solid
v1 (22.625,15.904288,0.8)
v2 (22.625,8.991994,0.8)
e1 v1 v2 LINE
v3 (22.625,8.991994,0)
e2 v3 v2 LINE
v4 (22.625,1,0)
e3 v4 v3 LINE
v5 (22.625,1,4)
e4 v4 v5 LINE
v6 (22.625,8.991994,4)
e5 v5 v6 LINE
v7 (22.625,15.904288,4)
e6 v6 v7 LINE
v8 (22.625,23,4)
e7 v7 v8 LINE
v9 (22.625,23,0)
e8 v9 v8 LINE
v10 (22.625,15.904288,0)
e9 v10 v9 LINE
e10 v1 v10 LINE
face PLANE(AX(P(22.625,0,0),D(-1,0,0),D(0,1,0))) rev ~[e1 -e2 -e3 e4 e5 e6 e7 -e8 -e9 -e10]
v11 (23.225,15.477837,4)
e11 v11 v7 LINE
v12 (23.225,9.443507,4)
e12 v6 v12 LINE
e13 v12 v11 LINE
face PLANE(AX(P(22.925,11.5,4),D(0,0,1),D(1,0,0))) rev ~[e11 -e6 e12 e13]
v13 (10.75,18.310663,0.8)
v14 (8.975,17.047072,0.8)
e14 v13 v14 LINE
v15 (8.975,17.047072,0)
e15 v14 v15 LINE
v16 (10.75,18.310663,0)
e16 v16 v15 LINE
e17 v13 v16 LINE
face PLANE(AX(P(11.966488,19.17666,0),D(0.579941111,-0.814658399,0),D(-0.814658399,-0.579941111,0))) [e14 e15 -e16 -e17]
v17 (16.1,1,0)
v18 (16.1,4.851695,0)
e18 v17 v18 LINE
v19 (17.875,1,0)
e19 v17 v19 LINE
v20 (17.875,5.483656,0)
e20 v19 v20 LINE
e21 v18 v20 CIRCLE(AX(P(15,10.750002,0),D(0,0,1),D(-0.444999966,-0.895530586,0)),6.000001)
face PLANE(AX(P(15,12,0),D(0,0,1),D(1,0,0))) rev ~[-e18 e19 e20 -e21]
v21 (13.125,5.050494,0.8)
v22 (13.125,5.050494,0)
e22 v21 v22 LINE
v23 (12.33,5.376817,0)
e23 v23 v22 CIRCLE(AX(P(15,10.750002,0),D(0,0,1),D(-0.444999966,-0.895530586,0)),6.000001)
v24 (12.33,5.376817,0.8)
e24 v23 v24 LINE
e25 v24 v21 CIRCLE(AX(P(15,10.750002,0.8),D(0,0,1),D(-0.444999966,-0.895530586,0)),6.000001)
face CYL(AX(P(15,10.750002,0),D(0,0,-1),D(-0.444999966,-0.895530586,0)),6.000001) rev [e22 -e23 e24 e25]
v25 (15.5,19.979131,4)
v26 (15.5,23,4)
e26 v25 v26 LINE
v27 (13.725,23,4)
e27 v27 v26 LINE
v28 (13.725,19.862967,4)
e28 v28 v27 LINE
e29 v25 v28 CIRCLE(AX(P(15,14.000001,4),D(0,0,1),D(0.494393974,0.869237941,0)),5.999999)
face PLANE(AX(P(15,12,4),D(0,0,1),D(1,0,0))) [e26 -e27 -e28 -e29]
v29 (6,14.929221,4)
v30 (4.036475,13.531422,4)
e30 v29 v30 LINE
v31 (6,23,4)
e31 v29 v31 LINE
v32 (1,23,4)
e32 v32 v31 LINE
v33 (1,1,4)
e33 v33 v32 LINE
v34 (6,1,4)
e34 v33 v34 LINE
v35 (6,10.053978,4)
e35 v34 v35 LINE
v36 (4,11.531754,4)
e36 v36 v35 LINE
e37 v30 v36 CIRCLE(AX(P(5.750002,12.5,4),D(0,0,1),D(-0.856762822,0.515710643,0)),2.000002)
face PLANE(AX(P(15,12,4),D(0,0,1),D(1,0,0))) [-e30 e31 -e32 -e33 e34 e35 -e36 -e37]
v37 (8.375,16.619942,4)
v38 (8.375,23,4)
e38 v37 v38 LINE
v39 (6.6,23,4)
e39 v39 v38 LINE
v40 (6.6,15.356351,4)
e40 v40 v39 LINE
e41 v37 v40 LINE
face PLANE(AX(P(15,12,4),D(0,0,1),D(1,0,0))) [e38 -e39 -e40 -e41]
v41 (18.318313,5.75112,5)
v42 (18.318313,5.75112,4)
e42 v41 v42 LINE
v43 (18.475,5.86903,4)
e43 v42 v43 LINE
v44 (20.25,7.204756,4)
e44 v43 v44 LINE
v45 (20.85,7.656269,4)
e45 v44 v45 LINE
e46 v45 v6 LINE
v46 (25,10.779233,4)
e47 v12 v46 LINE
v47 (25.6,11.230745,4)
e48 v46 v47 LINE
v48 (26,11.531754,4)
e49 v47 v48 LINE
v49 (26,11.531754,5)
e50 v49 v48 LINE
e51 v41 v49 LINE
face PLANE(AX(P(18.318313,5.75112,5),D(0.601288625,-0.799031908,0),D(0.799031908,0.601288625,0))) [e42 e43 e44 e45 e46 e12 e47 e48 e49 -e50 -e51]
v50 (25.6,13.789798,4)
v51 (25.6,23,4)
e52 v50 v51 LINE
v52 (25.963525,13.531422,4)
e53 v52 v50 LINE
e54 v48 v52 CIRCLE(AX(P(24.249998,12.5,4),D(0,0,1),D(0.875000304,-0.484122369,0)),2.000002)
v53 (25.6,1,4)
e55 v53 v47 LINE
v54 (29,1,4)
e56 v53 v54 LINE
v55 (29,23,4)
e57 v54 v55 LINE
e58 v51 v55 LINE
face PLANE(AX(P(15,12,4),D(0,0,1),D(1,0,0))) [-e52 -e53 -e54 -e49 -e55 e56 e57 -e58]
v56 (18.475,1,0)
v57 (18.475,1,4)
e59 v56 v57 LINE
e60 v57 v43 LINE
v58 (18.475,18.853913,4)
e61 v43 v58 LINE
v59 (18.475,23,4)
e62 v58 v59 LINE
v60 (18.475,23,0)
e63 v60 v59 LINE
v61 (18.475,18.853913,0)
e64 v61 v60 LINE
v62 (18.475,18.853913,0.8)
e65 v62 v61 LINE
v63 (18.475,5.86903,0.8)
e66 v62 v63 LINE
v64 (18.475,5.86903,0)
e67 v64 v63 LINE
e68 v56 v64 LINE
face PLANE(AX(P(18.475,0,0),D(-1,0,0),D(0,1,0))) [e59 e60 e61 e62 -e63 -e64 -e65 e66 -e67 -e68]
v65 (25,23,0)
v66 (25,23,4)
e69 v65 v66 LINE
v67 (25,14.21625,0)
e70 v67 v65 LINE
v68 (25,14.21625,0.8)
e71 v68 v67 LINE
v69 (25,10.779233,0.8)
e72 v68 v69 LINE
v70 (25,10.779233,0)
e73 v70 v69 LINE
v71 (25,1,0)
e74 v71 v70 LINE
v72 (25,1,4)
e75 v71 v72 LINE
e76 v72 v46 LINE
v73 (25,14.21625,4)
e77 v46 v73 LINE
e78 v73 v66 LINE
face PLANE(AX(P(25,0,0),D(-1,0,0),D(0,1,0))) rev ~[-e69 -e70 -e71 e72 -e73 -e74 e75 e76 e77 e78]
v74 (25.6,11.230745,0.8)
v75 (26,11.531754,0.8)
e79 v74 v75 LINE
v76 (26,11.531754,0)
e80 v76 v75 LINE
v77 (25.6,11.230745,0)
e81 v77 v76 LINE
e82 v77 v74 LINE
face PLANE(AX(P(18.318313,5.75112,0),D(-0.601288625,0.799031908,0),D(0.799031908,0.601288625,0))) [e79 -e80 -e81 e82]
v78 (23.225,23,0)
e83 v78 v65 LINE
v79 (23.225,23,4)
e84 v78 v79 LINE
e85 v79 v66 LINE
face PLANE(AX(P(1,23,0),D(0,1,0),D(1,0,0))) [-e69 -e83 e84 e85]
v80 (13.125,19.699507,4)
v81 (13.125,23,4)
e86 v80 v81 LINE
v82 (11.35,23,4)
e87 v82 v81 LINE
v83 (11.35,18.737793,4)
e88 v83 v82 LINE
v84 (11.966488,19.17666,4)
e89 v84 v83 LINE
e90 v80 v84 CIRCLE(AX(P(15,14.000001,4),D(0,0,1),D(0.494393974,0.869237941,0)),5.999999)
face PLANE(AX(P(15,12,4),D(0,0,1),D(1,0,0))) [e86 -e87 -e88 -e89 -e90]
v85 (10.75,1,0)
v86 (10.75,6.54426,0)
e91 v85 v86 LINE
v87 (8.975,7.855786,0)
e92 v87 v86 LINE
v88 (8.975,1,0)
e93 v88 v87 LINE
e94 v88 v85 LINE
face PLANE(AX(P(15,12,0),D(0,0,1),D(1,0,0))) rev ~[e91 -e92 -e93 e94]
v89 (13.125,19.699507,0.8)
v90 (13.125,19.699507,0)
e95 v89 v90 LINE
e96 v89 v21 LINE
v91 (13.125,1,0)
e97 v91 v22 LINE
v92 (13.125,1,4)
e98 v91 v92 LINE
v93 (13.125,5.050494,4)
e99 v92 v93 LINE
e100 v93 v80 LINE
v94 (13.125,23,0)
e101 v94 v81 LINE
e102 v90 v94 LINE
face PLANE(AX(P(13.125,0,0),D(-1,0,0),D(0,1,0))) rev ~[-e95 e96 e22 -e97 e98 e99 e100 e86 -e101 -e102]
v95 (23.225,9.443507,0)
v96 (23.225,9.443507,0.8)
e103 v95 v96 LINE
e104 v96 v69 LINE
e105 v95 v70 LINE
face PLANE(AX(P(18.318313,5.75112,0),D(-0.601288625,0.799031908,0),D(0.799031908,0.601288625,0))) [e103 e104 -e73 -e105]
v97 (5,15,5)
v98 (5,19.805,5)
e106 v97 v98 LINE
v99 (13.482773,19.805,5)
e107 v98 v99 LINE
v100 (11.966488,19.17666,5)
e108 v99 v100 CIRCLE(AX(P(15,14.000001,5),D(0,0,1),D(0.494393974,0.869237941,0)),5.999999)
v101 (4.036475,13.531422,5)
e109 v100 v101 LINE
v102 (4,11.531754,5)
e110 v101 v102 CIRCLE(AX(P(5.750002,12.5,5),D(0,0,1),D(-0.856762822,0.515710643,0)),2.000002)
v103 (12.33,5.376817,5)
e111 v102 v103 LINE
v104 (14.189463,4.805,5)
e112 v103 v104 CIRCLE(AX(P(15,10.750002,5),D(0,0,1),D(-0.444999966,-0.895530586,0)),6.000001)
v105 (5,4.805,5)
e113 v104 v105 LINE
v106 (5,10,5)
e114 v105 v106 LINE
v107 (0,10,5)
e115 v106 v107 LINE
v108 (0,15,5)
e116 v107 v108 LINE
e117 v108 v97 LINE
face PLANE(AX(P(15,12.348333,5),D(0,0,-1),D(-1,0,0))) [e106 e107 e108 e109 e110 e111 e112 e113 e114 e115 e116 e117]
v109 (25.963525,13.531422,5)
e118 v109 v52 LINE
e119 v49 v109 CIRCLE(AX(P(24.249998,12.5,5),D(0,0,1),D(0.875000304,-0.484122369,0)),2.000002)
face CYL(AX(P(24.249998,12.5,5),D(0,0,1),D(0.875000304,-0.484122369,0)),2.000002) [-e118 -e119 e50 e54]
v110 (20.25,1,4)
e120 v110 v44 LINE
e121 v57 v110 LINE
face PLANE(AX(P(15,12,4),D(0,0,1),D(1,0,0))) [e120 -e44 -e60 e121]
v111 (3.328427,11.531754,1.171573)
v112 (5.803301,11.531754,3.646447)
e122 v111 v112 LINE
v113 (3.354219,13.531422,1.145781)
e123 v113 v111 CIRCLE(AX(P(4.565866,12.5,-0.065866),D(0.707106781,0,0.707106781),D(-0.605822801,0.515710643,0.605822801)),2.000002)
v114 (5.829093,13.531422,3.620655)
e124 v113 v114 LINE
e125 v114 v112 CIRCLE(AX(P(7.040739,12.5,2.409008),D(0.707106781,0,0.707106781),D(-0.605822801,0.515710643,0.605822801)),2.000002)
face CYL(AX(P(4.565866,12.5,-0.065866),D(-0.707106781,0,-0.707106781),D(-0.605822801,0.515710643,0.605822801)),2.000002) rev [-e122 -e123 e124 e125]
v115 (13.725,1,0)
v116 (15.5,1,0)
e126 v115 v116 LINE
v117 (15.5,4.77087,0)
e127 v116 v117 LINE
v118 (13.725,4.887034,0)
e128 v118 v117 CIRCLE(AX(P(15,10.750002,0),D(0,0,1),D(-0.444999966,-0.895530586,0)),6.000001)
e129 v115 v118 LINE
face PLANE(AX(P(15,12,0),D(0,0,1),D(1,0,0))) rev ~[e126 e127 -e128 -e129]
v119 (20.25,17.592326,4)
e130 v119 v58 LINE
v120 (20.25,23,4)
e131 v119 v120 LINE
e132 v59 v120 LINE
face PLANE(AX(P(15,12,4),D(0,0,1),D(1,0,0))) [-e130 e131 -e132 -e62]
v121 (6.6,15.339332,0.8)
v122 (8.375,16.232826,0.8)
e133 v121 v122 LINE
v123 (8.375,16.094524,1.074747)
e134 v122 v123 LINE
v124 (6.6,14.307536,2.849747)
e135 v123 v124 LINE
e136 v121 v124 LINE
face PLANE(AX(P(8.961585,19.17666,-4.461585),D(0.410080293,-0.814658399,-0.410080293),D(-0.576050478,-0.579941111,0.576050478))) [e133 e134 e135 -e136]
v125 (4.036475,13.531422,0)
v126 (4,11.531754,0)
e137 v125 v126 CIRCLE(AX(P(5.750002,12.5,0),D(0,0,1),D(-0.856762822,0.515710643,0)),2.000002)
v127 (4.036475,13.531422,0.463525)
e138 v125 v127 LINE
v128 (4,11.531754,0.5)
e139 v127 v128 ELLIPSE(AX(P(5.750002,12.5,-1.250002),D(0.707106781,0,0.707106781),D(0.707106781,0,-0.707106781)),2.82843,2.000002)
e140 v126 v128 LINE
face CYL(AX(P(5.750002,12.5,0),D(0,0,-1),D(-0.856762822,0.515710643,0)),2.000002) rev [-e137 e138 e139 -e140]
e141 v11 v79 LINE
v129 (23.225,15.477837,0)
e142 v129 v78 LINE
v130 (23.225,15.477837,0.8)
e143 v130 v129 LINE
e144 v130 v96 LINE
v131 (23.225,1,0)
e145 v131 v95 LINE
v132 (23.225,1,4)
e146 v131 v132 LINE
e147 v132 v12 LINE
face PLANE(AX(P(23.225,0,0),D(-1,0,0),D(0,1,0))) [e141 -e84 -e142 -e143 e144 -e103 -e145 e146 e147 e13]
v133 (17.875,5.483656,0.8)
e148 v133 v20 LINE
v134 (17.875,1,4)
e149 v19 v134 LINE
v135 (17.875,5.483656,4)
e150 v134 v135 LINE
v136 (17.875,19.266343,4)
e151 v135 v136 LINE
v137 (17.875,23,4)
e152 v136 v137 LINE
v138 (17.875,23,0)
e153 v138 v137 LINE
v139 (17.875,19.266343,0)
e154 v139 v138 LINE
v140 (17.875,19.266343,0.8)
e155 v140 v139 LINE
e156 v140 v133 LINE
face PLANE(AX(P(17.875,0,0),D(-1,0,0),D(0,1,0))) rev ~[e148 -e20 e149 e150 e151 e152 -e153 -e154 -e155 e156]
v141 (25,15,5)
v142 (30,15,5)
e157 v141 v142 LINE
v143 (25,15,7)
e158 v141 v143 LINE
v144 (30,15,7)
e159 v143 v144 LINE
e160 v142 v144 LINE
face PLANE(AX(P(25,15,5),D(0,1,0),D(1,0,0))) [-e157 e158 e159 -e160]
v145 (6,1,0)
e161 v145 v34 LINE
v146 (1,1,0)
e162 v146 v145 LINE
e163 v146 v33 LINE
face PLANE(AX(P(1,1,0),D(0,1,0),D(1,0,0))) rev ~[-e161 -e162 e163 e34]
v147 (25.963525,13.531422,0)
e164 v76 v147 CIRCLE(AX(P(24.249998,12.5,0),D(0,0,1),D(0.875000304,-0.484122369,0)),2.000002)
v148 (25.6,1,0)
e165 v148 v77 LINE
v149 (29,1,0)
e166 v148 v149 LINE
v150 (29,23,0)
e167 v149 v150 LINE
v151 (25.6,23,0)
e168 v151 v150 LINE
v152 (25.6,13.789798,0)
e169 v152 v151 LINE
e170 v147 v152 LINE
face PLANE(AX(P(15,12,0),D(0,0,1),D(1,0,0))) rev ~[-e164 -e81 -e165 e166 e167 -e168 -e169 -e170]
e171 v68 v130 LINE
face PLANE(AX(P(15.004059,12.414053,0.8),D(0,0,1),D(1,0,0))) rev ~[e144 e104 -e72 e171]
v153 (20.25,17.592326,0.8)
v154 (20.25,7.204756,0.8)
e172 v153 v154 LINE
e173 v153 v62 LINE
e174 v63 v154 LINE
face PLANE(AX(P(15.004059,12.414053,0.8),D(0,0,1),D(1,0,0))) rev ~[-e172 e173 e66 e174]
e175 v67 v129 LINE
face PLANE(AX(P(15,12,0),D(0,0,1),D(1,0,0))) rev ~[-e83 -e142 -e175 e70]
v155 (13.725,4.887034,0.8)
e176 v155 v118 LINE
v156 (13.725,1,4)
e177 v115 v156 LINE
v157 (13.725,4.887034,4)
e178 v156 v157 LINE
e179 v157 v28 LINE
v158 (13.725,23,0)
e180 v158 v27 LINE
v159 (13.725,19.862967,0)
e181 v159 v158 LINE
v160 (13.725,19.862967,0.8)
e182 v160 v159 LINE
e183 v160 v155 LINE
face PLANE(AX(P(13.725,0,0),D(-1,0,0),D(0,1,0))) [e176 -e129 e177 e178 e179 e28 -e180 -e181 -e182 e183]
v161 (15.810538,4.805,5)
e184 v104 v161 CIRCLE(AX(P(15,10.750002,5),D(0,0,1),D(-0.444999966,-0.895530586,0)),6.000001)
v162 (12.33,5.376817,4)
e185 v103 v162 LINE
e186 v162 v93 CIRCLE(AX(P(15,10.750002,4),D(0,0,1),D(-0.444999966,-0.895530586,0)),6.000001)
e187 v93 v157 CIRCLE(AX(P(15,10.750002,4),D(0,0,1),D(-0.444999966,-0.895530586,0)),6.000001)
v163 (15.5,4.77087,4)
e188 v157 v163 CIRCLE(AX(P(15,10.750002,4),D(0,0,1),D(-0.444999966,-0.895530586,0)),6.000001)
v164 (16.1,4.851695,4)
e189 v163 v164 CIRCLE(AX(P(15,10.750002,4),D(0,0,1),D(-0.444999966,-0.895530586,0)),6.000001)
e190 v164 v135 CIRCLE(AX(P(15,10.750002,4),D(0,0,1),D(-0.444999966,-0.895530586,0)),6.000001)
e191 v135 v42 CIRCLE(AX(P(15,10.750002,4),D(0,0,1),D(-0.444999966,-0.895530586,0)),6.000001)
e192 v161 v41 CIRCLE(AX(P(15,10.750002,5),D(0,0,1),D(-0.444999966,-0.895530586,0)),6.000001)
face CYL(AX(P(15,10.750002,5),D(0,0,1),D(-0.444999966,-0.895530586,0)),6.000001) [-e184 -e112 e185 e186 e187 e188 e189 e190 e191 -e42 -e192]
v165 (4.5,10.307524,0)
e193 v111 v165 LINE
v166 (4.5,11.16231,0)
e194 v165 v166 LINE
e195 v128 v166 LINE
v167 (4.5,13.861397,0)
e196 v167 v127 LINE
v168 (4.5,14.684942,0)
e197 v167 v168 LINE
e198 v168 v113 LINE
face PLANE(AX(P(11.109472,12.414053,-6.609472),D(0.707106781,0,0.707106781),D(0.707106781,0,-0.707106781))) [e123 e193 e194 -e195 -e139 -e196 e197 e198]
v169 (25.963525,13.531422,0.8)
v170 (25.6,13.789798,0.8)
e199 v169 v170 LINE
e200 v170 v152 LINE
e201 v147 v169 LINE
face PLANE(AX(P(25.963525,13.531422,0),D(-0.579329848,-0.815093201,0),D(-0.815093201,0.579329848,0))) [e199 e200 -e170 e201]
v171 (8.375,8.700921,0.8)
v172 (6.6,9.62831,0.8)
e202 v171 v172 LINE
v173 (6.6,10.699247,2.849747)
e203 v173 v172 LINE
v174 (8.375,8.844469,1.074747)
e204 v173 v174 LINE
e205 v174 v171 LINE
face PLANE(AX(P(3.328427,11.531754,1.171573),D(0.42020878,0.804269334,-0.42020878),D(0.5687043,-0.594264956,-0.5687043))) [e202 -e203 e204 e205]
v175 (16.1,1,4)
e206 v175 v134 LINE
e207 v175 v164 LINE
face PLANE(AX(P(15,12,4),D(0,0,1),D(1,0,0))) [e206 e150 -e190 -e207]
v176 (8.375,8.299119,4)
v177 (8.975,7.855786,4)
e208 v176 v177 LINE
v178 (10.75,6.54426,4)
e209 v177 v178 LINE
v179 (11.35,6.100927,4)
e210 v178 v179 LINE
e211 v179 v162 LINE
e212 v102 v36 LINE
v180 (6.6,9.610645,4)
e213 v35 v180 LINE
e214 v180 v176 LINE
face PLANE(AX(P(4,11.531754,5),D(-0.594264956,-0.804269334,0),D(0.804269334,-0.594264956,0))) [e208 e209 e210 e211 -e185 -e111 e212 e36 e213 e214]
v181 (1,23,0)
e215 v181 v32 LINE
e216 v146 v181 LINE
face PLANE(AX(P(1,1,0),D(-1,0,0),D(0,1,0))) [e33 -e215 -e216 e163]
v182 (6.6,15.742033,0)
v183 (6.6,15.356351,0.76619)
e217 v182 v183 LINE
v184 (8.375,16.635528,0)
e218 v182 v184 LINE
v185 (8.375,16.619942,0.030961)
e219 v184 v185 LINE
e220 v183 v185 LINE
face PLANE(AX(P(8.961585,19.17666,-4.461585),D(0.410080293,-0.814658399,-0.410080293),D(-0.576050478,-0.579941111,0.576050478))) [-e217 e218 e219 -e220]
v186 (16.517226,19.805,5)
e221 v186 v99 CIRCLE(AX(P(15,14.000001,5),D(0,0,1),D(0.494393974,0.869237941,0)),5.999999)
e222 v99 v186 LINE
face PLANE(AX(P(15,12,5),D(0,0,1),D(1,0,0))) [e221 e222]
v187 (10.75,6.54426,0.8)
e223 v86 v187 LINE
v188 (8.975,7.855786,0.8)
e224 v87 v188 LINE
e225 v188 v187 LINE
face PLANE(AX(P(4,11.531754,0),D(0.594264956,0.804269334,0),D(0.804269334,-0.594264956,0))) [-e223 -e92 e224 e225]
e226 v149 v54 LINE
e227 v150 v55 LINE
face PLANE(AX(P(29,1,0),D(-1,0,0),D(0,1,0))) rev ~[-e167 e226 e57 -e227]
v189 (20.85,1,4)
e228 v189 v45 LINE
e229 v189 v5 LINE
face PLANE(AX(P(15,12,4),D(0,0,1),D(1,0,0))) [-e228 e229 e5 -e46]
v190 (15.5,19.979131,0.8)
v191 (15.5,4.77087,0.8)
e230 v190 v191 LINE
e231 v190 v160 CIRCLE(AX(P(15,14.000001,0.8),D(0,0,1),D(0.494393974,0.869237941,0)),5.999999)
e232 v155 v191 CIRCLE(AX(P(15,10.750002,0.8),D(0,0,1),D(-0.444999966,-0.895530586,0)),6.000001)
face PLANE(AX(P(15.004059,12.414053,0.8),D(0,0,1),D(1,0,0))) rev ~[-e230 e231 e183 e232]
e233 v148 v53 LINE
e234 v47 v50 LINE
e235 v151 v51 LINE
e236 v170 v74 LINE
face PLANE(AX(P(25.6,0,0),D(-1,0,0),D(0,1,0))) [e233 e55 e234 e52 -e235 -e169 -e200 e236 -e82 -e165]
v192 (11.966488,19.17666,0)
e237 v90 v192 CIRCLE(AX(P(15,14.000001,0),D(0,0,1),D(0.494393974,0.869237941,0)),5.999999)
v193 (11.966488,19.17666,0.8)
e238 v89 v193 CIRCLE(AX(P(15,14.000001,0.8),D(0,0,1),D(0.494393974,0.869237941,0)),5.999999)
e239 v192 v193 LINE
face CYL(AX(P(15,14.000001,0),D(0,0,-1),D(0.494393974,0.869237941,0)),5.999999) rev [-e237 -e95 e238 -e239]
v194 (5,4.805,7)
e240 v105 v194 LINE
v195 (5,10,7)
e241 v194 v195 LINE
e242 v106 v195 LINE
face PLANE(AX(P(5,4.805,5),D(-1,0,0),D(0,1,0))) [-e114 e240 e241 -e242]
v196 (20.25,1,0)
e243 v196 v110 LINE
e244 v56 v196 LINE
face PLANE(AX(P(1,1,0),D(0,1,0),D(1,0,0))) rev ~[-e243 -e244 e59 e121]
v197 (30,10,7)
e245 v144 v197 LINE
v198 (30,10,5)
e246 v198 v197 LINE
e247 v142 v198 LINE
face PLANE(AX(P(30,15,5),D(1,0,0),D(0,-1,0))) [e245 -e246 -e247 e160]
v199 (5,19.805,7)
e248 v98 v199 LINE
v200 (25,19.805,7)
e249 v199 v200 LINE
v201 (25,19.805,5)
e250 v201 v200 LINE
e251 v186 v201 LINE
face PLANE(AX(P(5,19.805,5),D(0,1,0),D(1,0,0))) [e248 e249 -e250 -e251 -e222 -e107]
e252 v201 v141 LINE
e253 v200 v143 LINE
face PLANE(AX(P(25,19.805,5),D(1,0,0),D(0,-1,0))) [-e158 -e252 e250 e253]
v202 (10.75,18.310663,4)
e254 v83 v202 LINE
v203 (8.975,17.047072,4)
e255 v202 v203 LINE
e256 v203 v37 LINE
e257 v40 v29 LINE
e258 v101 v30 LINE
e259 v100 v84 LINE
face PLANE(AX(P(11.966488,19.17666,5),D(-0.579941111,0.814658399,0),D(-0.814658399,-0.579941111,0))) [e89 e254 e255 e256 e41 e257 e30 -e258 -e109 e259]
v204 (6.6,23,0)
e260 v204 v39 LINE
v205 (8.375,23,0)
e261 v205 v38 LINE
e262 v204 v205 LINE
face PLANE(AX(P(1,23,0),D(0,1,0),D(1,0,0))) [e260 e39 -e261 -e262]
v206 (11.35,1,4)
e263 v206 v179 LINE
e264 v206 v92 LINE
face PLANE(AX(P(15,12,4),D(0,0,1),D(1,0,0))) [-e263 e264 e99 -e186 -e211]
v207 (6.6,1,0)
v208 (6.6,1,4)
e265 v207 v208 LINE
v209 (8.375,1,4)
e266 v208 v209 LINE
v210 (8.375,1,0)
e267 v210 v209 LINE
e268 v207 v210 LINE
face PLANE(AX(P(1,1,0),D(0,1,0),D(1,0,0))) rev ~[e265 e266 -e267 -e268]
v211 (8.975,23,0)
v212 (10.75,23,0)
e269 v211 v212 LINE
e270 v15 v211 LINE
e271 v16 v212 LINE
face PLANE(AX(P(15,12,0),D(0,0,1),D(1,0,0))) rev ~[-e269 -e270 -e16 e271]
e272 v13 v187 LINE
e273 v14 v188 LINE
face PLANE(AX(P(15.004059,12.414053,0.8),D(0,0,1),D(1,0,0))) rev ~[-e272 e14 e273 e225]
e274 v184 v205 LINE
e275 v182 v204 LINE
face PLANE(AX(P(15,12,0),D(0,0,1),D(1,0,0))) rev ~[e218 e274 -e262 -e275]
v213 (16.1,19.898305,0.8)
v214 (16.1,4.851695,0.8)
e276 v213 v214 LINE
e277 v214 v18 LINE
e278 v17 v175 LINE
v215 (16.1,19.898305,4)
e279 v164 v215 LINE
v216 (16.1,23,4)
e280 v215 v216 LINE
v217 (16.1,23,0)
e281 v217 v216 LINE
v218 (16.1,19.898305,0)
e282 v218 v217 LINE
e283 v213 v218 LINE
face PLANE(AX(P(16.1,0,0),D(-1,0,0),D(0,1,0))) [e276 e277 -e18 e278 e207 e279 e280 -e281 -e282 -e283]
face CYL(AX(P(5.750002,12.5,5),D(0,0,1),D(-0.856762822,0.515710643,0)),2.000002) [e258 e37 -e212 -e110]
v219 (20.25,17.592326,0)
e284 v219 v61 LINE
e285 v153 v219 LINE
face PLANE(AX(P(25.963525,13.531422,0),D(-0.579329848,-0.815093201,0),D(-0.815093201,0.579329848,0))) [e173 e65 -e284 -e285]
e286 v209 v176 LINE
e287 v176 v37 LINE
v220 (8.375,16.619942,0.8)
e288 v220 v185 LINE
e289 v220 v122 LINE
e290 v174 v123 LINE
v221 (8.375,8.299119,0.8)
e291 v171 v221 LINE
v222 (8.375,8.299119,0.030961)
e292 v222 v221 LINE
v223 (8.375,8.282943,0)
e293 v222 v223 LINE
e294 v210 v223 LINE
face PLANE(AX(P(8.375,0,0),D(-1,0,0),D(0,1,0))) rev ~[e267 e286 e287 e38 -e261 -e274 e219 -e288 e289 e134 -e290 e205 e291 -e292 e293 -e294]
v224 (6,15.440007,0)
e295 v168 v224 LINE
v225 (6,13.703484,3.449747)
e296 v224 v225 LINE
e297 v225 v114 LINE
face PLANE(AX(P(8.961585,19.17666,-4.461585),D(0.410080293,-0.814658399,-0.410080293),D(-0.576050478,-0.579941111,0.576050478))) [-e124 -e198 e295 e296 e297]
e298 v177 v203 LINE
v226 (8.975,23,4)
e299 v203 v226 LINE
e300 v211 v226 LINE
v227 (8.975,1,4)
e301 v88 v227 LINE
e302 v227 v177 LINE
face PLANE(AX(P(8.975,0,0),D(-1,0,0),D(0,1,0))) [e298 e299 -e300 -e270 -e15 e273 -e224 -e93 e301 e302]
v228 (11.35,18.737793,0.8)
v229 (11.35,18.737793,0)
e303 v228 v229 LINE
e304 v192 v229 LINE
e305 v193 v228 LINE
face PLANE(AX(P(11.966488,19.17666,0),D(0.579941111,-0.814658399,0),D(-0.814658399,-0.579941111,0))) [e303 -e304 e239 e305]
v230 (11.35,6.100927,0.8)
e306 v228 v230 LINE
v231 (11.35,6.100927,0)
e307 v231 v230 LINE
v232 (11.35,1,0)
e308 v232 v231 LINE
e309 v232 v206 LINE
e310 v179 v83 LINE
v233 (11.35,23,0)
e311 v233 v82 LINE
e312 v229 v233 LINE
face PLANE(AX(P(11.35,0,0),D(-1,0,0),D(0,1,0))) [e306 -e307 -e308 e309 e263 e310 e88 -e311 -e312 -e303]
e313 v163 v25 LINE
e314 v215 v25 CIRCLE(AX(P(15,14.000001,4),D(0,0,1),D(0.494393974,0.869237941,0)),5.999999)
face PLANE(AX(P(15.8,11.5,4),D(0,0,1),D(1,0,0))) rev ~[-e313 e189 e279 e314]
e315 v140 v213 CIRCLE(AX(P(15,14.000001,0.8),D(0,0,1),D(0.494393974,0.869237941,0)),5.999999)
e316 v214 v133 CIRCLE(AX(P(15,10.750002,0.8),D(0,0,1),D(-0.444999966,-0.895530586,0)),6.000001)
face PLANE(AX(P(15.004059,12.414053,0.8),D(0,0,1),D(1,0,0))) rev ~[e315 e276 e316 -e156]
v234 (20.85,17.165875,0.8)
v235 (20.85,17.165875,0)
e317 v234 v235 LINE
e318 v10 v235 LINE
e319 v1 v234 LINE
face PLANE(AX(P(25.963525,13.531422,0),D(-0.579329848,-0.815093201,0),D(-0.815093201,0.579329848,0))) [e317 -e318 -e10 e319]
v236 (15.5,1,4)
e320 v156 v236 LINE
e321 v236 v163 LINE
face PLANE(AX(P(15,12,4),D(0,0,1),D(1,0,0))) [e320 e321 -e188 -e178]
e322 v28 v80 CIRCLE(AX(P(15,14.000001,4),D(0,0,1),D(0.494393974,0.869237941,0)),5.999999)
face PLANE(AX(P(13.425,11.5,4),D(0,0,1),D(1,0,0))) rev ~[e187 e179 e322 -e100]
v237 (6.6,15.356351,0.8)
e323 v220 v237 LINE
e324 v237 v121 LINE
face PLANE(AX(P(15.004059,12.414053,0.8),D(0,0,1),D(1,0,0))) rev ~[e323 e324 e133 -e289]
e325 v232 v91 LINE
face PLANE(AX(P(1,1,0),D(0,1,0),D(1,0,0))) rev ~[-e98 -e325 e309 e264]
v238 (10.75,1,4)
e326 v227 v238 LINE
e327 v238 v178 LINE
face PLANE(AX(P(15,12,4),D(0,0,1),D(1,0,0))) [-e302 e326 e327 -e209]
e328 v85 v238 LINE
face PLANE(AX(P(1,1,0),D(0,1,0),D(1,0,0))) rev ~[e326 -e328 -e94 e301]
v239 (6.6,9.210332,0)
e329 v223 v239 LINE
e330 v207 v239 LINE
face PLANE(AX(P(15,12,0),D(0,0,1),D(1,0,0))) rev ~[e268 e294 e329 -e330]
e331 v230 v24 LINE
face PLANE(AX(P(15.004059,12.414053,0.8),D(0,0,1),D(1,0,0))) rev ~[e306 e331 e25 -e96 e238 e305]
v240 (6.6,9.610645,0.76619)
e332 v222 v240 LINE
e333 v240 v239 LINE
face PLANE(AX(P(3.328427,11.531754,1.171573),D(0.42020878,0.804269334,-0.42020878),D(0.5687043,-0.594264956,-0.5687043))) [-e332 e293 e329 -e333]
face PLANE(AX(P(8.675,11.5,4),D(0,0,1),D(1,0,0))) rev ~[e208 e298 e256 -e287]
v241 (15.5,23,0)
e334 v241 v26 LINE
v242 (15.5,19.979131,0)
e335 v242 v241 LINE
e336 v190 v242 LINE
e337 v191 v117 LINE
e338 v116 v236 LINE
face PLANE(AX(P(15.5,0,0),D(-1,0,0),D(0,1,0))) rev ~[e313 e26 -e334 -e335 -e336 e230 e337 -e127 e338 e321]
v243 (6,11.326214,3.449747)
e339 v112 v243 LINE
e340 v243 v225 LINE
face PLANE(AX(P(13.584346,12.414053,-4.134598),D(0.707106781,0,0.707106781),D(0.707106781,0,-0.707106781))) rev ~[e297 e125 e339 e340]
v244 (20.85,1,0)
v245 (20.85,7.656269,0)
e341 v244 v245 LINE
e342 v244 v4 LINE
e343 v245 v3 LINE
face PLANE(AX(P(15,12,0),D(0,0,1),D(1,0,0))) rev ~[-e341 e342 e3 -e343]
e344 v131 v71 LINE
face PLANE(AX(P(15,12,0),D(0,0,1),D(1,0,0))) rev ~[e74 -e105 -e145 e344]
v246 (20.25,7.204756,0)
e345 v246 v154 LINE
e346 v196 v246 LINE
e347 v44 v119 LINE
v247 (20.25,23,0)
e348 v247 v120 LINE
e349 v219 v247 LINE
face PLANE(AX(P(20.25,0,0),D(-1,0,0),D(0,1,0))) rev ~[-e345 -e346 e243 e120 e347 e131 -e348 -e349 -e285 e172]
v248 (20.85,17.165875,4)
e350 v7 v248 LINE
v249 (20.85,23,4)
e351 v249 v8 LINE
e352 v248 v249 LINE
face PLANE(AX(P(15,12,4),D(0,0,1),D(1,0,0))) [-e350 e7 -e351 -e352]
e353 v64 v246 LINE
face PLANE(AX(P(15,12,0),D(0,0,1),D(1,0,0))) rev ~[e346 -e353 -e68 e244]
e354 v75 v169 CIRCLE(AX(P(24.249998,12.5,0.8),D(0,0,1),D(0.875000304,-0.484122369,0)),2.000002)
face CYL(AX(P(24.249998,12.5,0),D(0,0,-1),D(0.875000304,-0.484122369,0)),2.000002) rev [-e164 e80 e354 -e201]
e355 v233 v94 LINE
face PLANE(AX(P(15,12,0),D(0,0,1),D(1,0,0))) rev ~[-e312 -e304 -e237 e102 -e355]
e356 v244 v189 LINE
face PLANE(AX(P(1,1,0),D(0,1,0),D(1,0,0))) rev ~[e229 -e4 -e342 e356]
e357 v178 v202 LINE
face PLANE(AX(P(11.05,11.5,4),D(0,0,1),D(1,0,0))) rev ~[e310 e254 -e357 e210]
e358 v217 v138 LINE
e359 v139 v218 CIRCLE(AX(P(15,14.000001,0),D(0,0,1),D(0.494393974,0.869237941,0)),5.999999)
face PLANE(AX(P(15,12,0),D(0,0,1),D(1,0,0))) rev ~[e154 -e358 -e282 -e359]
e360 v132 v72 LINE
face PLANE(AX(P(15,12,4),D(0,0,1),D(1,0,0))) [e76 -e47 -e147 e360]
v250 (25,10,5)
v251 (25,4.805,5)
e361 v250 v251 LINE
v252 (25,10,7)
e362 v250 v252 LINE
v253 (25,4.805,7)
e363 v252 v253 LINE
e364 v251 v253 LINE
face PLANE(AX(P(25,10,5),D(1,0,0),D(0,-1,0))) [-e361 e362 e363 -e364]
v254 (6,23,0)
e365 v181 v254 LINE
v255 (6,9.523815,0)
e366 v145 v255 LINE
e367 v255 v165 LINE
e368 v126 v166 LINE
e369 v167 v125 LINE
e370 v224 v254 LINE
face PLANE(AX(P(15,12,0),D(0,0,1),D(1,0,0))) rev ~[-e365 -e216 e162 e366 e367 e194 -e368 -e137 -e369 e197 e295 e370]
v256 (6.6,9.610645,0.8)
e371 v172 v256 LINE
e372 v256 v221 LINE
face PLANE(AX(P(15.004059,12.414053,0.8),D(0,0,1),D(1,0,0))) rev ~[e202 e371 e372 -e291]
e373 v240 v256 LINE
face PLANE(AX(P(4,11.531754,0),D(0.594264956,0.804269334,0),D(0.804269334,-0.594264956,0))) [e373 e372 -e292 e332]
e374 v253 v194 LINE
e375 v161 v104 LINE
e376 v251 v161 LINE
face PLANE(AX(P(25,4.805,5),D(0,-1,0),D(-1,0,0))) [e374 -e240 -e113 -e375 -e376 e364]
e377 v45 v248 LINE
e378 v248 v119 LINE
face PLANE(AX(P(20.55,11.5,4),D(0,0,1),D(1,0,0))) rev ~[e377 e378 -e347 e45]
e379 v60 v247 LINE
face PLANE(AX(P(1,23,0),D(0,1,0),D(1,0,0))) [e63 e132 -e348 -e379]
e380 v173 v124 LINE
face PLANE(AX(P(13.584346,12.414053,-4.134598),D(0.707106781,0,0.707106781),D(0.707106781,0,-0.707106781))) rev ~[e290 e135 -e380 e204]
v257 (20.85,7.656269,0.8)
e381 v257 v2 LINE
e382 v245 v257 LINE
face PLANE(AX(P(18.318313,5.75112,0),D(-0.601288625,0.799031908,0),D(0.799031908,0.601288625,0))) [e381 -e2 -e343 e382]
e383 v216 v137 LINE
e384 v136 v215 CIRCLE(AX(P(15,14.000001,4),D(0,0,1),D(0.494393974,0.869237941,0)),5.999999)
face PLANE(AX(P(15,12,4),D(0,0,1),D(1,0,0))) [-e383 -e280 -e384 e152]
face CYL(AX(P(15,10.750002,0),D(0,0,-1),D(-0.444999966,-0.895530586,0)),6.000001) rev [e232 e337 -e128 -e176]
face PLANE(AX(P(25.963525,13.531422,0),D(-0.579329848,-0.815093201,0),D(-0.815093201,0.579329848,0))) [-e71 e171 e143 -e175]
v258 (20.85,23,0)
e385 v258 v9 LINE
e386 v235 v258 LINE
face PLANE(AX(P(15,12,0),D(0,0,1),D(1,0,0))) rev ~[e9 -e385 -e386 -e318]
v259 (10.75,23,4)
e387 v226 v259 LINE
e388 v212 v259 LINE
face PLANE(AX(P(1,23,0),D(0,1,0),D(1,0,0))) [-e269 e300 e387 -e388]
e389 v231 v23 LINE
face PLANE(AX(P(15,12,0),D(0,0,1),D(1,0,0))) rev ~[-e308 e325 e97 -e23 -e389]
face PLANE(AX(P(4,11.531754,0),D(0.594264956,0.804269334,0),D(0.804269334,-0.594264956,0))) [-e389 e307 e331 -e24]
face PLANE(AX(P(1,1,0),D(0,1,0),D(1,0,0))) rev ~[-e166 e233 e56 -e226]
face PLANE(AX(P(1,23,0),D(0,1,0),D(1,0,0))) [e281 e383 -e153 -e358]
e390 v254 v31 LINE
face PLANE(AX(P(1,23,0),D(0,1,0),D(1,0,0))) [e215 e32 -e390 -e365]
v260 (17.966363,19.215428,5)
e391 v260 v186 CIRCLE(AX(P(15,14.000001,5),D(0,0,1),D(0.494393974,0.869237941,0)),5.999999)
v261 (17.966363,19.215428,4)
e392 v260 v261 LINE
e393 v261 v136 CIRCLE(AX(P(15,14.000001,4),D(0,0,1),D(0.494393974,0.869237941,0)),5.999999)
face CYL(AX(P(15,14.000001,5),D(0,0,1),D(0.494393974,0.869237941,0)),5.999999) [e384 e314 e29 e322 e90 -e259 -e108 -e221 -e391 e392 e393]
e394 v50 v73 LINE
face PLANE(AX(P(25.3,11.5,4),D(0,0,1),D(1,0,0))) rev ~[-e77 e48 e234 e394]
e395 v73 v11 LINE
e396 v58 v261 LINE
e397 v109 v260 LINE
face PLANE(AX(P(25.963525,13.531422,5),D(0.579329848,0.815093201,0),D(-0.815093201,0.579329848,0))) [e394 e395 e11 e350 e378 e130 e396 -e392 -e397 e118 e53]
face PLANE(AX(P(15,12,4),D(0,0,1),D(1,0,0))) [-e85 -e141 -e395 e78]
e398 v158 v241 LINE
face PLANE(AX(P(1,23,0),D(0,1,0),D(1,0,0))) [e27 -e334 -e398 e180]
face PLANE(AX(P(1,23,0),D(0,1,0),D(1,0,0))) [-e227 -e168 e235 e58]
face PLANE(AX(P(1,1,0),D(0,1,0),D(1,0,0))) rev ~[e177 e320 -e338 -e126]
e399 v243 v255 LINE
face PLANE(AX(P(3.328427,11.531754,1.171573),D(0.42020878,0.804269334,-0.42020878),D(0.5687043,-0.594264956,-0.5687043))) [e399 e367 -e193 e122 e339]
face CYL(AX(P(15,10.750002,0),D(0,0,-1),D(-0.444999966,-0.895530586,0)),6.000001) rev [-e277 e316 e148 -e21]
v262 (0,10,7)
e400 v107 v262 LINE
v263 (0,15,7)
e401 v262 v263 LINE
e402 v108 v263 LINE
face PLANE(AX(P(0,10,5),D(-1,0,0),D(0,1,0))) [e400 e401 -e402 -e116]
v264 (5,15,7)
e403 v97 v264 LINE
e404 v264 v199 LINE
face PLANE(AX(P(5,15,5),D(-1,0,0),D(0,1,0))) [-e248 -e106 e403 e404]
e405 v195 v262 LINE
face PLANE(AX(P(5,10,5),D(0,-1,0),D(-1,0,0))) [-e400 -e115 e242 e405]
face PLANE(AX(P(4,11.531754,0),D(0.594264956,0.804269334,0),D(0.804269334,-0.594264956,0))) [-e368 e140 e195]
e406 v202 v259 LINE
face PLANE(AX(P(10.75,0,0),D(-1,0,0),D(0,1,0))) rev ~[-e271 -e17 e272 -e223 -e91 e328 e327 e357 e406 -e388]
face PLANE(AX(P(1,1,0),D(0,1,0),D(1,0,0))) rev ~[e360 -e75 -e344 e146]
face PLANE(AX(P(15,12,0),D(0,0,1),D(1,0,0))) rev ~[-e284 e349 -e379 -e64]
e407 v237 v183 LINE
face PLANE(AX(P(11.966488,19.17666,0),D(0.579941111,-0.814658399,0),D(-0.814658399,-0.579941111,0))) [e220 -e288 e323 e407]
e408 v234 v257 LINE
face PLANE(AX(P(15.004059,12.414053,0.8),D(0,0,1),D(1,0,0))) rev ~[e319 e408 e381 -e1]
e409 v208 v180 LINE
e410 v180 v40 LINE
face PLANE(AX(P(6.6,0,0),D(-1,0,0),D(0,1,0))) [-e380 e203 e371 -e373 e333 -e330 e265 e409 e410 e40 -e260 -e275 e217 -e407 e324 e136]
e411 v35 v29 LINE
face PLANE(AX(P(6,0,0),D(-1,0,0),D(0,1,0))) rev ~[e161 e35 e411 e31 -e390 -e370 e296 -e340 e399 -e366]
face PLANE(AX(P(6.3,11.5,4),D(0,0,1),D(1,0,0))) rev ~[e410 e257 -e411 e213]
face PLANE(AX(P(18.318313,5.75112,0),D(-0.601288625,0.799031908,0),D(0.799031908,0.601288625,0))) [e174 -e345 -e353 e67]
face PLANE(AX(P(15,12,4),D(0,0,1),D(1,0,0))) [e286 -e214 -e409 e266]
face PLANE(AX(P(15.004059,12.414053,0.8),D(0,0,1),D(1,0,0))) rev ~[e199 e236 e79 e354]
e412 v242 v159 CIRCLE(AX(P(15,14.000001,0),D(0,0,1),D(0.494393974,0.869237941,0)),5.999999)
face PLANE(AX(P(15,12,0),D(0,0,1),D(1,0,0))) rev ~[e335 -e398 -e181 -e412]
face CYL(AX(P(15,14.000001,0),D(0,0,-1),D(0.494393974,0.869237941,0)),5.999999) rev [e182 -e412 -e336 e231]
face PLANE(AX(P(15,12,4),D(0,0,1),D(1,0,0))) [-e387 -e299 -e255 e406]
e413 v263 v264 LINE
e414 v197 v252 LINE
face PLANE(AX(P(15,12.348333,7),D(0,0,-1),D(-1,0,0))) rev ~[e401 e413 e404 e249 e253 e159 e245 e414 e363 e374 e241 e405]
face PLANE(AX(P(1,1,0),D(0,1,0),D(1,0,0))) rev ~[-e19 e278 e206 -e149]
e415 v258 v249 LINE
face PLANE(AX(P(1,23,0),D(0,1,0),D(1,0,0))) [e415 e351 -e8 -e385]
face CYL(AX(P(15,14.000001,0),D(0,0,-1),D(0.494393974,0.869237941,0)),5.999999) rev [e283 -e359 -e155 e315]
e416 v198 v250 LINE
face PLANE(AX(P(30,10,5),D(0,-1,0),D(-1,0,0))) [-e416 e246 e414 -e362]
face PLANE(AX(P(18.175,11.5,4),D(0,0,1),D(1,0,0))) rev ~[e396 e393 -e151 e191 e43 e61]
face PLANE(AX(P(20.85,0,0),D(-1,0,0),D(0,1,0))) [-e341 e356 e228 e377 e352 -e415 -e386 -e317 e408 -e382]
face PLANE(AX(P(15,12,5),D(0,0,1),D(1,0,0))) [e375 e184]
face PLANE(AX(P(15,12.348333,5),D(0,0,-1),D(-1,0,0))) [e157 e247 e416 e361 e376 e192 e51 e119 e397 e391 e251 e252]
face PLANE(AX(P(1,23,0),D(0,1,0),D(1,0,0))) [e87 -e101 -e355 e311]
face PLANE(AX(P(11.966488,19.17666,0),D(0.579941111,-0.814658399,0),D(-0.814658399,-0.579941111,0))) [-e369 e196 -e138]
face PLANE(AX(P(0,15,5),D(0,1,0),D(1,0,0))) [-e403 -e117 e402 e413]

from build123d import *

# Parameters (mm, degrees)
SKETCH_W             = 28
SKETCH_H             = 22
PAD002_DEPTH         = 5
POCKET001_DEPTH      = 0.8
SKETCH002_W          = 0.6
SKETCH002_H          = 23
POCKET_DEPTH         = 4
LINEARPATTERN_COUNT  = 9
LINEARPATTERN_PITCH  = 2.375
POCKET002_DEPTH      = 3.5
SKETCH006_W          = 28
SKETCH006_H          = 22
POCKET005_DEPTH      = 1
POCKET005_DEPTH_BACK = 1
PAD_DEPTH            = 2


with BuildPart() as part:
    # Sketch → Pad002 (new body)
    with BuildSketch(Plane.XY):
        with Locations((15, 12)):
            Rectangle(SKETCH_W, SKETCH_H)
    extrude(amount=PAD002_DEPTH)

    # Sketch001 → Pocket001 (cut)
    with BuildSketch(Plane.XY):
        with BuildLine():
            ThreePointArc((17.966363, 19.215428), (14.961232, 19.999875), (11.966488, 19.17666))
            Line((11.966488, 19.17666), (4.036475, 13.531422))
            ThreePointArc((4.036475, 13.531422), (3.750333, 12.536475), (4, 11.531754))
            Line((4, 11.531754), (12.33, 5.376817))
            ThreePointArc((12.33, 5.376817), (15.374304, 4.761687), (18.318313, 5.75112))
            Line((18.318313, 5.75112), (26, 11.531754))
            ThreePointArc((26, 11.531754), (26.249667, 12.536475), (25.963525, 13.531422))
            Line((25.963525, 13.531422), (17.966363, 19.215428))
        make_face()
    extrude(amount=POCKET001_DEPTH, mode=Mode.SUBTRACT)

    # Sketch002 → Pocket (cut)
    with BuildSketch(Plane.XY):
        with Locations((6.3, 11.5)):
            Rectangle(SKETCH002_W, SKETCH002_H)
    pocket = extrude(amount=POCKET_DEPTH, mode=Mode.SUBTRACT)

    # LinearPattern: Pocket ×9
    with Locations(*[(i * LINEARPATTERN_PITCH, 0, 0) for i in range(1, LINEARPATTERN_COUNT)]):
        add(pocket, mode=Mode.SUBTRACT)

    # Sketch003 → Pocket002 (cut)
    with BuildSketch(Plane(origin=(0.5, 0, 4), x_dir=(0.707107, 0, -0.707107), z_dir=(0.707107, 0, 0.707107))):
        with BuildLine():
            ThreePointArc((17.966363, 19.215428), (14.961232, 19.999875), (11.966488, 19.17666))
            Line((11.966488, 19.17666), (4.036475, 13.531422))
            ThreePointArc((4.036475, 13.531422), (3.750333, 12.536475), (4, 11.531754))
            Line((4, 11.531754), (12.33, 5.376817))
            ThreePointArc((12.33, 5.376817), (15.374304, 4.761687), (18.318313, 5.75112))
            Line((18.318313, 5.75112), (26, 11.531754))
            ThreePointArc((26, 11.531754), (26.249667, 12.536475), (25.963525, 13.531422))
            Line((25.963525, 13.531422), (17.966363, 19.215428))
        make_face()
    extrude(amount=POCKET002_DEPTH, mode=Mode.SUBTRACT)

    # Sketch006 → Pocket005 (cut, two sides)
    with BuildSketch(Plane.XY.offset(5)) as pocket005_sk:
        with Locations((15, 12)):
            Rectangle(SKETCH006_W, SKETCH006_H)
        with BuildLine():
            ThreePointArc((17.966363, 19.215428), (14.961232, 19.999875), (11.966488, 19.17666))
            Line((11.966488, 19.17666), (4.036475, 13.531422))
            ThreePointArc((4.036475, 13.531422), (3.750333, 12.536475), (4, 11.531754))
            Line((4, 11.531754), (12.33, 5.376817))
            ThreePointArc((12.33, 5.376817), (15.374304, 4.761687), (18.318313, 5.75112))
            Line((18.318313, 5.75112), (26, 11.531754))
            ThreePointArc((26, 11.531754), (26.249667, 12.536475), (25.963525, 13.531422))
            Line((25.963525, 13.531422), (17.966363, 19.215428))
        make_face(mode=Mode.SUBTRACT)
    extrude(amount=-POCKET005_DEPTH, mode=Mode.SUBTRACT)
    extrude(pocket005_sk.sketch, amount=POCKET005_DEPTH_BACK, mode=Mode.SUBTRACT)

    # Sketch004 → Pad (join)
    with BuildSketch(Plane.XY.offset(5)):
        Polygon((5, 19.805), (25, 19.805), (25, 15), (30, 15), (30, 10), (25, 10), (25, 4.805), (5, 4.805), (5, 10), (0, 10), (0, 15), (5, 15), align=None)
    extrude(amount=PAD_DEPTH)


solid = part.part
